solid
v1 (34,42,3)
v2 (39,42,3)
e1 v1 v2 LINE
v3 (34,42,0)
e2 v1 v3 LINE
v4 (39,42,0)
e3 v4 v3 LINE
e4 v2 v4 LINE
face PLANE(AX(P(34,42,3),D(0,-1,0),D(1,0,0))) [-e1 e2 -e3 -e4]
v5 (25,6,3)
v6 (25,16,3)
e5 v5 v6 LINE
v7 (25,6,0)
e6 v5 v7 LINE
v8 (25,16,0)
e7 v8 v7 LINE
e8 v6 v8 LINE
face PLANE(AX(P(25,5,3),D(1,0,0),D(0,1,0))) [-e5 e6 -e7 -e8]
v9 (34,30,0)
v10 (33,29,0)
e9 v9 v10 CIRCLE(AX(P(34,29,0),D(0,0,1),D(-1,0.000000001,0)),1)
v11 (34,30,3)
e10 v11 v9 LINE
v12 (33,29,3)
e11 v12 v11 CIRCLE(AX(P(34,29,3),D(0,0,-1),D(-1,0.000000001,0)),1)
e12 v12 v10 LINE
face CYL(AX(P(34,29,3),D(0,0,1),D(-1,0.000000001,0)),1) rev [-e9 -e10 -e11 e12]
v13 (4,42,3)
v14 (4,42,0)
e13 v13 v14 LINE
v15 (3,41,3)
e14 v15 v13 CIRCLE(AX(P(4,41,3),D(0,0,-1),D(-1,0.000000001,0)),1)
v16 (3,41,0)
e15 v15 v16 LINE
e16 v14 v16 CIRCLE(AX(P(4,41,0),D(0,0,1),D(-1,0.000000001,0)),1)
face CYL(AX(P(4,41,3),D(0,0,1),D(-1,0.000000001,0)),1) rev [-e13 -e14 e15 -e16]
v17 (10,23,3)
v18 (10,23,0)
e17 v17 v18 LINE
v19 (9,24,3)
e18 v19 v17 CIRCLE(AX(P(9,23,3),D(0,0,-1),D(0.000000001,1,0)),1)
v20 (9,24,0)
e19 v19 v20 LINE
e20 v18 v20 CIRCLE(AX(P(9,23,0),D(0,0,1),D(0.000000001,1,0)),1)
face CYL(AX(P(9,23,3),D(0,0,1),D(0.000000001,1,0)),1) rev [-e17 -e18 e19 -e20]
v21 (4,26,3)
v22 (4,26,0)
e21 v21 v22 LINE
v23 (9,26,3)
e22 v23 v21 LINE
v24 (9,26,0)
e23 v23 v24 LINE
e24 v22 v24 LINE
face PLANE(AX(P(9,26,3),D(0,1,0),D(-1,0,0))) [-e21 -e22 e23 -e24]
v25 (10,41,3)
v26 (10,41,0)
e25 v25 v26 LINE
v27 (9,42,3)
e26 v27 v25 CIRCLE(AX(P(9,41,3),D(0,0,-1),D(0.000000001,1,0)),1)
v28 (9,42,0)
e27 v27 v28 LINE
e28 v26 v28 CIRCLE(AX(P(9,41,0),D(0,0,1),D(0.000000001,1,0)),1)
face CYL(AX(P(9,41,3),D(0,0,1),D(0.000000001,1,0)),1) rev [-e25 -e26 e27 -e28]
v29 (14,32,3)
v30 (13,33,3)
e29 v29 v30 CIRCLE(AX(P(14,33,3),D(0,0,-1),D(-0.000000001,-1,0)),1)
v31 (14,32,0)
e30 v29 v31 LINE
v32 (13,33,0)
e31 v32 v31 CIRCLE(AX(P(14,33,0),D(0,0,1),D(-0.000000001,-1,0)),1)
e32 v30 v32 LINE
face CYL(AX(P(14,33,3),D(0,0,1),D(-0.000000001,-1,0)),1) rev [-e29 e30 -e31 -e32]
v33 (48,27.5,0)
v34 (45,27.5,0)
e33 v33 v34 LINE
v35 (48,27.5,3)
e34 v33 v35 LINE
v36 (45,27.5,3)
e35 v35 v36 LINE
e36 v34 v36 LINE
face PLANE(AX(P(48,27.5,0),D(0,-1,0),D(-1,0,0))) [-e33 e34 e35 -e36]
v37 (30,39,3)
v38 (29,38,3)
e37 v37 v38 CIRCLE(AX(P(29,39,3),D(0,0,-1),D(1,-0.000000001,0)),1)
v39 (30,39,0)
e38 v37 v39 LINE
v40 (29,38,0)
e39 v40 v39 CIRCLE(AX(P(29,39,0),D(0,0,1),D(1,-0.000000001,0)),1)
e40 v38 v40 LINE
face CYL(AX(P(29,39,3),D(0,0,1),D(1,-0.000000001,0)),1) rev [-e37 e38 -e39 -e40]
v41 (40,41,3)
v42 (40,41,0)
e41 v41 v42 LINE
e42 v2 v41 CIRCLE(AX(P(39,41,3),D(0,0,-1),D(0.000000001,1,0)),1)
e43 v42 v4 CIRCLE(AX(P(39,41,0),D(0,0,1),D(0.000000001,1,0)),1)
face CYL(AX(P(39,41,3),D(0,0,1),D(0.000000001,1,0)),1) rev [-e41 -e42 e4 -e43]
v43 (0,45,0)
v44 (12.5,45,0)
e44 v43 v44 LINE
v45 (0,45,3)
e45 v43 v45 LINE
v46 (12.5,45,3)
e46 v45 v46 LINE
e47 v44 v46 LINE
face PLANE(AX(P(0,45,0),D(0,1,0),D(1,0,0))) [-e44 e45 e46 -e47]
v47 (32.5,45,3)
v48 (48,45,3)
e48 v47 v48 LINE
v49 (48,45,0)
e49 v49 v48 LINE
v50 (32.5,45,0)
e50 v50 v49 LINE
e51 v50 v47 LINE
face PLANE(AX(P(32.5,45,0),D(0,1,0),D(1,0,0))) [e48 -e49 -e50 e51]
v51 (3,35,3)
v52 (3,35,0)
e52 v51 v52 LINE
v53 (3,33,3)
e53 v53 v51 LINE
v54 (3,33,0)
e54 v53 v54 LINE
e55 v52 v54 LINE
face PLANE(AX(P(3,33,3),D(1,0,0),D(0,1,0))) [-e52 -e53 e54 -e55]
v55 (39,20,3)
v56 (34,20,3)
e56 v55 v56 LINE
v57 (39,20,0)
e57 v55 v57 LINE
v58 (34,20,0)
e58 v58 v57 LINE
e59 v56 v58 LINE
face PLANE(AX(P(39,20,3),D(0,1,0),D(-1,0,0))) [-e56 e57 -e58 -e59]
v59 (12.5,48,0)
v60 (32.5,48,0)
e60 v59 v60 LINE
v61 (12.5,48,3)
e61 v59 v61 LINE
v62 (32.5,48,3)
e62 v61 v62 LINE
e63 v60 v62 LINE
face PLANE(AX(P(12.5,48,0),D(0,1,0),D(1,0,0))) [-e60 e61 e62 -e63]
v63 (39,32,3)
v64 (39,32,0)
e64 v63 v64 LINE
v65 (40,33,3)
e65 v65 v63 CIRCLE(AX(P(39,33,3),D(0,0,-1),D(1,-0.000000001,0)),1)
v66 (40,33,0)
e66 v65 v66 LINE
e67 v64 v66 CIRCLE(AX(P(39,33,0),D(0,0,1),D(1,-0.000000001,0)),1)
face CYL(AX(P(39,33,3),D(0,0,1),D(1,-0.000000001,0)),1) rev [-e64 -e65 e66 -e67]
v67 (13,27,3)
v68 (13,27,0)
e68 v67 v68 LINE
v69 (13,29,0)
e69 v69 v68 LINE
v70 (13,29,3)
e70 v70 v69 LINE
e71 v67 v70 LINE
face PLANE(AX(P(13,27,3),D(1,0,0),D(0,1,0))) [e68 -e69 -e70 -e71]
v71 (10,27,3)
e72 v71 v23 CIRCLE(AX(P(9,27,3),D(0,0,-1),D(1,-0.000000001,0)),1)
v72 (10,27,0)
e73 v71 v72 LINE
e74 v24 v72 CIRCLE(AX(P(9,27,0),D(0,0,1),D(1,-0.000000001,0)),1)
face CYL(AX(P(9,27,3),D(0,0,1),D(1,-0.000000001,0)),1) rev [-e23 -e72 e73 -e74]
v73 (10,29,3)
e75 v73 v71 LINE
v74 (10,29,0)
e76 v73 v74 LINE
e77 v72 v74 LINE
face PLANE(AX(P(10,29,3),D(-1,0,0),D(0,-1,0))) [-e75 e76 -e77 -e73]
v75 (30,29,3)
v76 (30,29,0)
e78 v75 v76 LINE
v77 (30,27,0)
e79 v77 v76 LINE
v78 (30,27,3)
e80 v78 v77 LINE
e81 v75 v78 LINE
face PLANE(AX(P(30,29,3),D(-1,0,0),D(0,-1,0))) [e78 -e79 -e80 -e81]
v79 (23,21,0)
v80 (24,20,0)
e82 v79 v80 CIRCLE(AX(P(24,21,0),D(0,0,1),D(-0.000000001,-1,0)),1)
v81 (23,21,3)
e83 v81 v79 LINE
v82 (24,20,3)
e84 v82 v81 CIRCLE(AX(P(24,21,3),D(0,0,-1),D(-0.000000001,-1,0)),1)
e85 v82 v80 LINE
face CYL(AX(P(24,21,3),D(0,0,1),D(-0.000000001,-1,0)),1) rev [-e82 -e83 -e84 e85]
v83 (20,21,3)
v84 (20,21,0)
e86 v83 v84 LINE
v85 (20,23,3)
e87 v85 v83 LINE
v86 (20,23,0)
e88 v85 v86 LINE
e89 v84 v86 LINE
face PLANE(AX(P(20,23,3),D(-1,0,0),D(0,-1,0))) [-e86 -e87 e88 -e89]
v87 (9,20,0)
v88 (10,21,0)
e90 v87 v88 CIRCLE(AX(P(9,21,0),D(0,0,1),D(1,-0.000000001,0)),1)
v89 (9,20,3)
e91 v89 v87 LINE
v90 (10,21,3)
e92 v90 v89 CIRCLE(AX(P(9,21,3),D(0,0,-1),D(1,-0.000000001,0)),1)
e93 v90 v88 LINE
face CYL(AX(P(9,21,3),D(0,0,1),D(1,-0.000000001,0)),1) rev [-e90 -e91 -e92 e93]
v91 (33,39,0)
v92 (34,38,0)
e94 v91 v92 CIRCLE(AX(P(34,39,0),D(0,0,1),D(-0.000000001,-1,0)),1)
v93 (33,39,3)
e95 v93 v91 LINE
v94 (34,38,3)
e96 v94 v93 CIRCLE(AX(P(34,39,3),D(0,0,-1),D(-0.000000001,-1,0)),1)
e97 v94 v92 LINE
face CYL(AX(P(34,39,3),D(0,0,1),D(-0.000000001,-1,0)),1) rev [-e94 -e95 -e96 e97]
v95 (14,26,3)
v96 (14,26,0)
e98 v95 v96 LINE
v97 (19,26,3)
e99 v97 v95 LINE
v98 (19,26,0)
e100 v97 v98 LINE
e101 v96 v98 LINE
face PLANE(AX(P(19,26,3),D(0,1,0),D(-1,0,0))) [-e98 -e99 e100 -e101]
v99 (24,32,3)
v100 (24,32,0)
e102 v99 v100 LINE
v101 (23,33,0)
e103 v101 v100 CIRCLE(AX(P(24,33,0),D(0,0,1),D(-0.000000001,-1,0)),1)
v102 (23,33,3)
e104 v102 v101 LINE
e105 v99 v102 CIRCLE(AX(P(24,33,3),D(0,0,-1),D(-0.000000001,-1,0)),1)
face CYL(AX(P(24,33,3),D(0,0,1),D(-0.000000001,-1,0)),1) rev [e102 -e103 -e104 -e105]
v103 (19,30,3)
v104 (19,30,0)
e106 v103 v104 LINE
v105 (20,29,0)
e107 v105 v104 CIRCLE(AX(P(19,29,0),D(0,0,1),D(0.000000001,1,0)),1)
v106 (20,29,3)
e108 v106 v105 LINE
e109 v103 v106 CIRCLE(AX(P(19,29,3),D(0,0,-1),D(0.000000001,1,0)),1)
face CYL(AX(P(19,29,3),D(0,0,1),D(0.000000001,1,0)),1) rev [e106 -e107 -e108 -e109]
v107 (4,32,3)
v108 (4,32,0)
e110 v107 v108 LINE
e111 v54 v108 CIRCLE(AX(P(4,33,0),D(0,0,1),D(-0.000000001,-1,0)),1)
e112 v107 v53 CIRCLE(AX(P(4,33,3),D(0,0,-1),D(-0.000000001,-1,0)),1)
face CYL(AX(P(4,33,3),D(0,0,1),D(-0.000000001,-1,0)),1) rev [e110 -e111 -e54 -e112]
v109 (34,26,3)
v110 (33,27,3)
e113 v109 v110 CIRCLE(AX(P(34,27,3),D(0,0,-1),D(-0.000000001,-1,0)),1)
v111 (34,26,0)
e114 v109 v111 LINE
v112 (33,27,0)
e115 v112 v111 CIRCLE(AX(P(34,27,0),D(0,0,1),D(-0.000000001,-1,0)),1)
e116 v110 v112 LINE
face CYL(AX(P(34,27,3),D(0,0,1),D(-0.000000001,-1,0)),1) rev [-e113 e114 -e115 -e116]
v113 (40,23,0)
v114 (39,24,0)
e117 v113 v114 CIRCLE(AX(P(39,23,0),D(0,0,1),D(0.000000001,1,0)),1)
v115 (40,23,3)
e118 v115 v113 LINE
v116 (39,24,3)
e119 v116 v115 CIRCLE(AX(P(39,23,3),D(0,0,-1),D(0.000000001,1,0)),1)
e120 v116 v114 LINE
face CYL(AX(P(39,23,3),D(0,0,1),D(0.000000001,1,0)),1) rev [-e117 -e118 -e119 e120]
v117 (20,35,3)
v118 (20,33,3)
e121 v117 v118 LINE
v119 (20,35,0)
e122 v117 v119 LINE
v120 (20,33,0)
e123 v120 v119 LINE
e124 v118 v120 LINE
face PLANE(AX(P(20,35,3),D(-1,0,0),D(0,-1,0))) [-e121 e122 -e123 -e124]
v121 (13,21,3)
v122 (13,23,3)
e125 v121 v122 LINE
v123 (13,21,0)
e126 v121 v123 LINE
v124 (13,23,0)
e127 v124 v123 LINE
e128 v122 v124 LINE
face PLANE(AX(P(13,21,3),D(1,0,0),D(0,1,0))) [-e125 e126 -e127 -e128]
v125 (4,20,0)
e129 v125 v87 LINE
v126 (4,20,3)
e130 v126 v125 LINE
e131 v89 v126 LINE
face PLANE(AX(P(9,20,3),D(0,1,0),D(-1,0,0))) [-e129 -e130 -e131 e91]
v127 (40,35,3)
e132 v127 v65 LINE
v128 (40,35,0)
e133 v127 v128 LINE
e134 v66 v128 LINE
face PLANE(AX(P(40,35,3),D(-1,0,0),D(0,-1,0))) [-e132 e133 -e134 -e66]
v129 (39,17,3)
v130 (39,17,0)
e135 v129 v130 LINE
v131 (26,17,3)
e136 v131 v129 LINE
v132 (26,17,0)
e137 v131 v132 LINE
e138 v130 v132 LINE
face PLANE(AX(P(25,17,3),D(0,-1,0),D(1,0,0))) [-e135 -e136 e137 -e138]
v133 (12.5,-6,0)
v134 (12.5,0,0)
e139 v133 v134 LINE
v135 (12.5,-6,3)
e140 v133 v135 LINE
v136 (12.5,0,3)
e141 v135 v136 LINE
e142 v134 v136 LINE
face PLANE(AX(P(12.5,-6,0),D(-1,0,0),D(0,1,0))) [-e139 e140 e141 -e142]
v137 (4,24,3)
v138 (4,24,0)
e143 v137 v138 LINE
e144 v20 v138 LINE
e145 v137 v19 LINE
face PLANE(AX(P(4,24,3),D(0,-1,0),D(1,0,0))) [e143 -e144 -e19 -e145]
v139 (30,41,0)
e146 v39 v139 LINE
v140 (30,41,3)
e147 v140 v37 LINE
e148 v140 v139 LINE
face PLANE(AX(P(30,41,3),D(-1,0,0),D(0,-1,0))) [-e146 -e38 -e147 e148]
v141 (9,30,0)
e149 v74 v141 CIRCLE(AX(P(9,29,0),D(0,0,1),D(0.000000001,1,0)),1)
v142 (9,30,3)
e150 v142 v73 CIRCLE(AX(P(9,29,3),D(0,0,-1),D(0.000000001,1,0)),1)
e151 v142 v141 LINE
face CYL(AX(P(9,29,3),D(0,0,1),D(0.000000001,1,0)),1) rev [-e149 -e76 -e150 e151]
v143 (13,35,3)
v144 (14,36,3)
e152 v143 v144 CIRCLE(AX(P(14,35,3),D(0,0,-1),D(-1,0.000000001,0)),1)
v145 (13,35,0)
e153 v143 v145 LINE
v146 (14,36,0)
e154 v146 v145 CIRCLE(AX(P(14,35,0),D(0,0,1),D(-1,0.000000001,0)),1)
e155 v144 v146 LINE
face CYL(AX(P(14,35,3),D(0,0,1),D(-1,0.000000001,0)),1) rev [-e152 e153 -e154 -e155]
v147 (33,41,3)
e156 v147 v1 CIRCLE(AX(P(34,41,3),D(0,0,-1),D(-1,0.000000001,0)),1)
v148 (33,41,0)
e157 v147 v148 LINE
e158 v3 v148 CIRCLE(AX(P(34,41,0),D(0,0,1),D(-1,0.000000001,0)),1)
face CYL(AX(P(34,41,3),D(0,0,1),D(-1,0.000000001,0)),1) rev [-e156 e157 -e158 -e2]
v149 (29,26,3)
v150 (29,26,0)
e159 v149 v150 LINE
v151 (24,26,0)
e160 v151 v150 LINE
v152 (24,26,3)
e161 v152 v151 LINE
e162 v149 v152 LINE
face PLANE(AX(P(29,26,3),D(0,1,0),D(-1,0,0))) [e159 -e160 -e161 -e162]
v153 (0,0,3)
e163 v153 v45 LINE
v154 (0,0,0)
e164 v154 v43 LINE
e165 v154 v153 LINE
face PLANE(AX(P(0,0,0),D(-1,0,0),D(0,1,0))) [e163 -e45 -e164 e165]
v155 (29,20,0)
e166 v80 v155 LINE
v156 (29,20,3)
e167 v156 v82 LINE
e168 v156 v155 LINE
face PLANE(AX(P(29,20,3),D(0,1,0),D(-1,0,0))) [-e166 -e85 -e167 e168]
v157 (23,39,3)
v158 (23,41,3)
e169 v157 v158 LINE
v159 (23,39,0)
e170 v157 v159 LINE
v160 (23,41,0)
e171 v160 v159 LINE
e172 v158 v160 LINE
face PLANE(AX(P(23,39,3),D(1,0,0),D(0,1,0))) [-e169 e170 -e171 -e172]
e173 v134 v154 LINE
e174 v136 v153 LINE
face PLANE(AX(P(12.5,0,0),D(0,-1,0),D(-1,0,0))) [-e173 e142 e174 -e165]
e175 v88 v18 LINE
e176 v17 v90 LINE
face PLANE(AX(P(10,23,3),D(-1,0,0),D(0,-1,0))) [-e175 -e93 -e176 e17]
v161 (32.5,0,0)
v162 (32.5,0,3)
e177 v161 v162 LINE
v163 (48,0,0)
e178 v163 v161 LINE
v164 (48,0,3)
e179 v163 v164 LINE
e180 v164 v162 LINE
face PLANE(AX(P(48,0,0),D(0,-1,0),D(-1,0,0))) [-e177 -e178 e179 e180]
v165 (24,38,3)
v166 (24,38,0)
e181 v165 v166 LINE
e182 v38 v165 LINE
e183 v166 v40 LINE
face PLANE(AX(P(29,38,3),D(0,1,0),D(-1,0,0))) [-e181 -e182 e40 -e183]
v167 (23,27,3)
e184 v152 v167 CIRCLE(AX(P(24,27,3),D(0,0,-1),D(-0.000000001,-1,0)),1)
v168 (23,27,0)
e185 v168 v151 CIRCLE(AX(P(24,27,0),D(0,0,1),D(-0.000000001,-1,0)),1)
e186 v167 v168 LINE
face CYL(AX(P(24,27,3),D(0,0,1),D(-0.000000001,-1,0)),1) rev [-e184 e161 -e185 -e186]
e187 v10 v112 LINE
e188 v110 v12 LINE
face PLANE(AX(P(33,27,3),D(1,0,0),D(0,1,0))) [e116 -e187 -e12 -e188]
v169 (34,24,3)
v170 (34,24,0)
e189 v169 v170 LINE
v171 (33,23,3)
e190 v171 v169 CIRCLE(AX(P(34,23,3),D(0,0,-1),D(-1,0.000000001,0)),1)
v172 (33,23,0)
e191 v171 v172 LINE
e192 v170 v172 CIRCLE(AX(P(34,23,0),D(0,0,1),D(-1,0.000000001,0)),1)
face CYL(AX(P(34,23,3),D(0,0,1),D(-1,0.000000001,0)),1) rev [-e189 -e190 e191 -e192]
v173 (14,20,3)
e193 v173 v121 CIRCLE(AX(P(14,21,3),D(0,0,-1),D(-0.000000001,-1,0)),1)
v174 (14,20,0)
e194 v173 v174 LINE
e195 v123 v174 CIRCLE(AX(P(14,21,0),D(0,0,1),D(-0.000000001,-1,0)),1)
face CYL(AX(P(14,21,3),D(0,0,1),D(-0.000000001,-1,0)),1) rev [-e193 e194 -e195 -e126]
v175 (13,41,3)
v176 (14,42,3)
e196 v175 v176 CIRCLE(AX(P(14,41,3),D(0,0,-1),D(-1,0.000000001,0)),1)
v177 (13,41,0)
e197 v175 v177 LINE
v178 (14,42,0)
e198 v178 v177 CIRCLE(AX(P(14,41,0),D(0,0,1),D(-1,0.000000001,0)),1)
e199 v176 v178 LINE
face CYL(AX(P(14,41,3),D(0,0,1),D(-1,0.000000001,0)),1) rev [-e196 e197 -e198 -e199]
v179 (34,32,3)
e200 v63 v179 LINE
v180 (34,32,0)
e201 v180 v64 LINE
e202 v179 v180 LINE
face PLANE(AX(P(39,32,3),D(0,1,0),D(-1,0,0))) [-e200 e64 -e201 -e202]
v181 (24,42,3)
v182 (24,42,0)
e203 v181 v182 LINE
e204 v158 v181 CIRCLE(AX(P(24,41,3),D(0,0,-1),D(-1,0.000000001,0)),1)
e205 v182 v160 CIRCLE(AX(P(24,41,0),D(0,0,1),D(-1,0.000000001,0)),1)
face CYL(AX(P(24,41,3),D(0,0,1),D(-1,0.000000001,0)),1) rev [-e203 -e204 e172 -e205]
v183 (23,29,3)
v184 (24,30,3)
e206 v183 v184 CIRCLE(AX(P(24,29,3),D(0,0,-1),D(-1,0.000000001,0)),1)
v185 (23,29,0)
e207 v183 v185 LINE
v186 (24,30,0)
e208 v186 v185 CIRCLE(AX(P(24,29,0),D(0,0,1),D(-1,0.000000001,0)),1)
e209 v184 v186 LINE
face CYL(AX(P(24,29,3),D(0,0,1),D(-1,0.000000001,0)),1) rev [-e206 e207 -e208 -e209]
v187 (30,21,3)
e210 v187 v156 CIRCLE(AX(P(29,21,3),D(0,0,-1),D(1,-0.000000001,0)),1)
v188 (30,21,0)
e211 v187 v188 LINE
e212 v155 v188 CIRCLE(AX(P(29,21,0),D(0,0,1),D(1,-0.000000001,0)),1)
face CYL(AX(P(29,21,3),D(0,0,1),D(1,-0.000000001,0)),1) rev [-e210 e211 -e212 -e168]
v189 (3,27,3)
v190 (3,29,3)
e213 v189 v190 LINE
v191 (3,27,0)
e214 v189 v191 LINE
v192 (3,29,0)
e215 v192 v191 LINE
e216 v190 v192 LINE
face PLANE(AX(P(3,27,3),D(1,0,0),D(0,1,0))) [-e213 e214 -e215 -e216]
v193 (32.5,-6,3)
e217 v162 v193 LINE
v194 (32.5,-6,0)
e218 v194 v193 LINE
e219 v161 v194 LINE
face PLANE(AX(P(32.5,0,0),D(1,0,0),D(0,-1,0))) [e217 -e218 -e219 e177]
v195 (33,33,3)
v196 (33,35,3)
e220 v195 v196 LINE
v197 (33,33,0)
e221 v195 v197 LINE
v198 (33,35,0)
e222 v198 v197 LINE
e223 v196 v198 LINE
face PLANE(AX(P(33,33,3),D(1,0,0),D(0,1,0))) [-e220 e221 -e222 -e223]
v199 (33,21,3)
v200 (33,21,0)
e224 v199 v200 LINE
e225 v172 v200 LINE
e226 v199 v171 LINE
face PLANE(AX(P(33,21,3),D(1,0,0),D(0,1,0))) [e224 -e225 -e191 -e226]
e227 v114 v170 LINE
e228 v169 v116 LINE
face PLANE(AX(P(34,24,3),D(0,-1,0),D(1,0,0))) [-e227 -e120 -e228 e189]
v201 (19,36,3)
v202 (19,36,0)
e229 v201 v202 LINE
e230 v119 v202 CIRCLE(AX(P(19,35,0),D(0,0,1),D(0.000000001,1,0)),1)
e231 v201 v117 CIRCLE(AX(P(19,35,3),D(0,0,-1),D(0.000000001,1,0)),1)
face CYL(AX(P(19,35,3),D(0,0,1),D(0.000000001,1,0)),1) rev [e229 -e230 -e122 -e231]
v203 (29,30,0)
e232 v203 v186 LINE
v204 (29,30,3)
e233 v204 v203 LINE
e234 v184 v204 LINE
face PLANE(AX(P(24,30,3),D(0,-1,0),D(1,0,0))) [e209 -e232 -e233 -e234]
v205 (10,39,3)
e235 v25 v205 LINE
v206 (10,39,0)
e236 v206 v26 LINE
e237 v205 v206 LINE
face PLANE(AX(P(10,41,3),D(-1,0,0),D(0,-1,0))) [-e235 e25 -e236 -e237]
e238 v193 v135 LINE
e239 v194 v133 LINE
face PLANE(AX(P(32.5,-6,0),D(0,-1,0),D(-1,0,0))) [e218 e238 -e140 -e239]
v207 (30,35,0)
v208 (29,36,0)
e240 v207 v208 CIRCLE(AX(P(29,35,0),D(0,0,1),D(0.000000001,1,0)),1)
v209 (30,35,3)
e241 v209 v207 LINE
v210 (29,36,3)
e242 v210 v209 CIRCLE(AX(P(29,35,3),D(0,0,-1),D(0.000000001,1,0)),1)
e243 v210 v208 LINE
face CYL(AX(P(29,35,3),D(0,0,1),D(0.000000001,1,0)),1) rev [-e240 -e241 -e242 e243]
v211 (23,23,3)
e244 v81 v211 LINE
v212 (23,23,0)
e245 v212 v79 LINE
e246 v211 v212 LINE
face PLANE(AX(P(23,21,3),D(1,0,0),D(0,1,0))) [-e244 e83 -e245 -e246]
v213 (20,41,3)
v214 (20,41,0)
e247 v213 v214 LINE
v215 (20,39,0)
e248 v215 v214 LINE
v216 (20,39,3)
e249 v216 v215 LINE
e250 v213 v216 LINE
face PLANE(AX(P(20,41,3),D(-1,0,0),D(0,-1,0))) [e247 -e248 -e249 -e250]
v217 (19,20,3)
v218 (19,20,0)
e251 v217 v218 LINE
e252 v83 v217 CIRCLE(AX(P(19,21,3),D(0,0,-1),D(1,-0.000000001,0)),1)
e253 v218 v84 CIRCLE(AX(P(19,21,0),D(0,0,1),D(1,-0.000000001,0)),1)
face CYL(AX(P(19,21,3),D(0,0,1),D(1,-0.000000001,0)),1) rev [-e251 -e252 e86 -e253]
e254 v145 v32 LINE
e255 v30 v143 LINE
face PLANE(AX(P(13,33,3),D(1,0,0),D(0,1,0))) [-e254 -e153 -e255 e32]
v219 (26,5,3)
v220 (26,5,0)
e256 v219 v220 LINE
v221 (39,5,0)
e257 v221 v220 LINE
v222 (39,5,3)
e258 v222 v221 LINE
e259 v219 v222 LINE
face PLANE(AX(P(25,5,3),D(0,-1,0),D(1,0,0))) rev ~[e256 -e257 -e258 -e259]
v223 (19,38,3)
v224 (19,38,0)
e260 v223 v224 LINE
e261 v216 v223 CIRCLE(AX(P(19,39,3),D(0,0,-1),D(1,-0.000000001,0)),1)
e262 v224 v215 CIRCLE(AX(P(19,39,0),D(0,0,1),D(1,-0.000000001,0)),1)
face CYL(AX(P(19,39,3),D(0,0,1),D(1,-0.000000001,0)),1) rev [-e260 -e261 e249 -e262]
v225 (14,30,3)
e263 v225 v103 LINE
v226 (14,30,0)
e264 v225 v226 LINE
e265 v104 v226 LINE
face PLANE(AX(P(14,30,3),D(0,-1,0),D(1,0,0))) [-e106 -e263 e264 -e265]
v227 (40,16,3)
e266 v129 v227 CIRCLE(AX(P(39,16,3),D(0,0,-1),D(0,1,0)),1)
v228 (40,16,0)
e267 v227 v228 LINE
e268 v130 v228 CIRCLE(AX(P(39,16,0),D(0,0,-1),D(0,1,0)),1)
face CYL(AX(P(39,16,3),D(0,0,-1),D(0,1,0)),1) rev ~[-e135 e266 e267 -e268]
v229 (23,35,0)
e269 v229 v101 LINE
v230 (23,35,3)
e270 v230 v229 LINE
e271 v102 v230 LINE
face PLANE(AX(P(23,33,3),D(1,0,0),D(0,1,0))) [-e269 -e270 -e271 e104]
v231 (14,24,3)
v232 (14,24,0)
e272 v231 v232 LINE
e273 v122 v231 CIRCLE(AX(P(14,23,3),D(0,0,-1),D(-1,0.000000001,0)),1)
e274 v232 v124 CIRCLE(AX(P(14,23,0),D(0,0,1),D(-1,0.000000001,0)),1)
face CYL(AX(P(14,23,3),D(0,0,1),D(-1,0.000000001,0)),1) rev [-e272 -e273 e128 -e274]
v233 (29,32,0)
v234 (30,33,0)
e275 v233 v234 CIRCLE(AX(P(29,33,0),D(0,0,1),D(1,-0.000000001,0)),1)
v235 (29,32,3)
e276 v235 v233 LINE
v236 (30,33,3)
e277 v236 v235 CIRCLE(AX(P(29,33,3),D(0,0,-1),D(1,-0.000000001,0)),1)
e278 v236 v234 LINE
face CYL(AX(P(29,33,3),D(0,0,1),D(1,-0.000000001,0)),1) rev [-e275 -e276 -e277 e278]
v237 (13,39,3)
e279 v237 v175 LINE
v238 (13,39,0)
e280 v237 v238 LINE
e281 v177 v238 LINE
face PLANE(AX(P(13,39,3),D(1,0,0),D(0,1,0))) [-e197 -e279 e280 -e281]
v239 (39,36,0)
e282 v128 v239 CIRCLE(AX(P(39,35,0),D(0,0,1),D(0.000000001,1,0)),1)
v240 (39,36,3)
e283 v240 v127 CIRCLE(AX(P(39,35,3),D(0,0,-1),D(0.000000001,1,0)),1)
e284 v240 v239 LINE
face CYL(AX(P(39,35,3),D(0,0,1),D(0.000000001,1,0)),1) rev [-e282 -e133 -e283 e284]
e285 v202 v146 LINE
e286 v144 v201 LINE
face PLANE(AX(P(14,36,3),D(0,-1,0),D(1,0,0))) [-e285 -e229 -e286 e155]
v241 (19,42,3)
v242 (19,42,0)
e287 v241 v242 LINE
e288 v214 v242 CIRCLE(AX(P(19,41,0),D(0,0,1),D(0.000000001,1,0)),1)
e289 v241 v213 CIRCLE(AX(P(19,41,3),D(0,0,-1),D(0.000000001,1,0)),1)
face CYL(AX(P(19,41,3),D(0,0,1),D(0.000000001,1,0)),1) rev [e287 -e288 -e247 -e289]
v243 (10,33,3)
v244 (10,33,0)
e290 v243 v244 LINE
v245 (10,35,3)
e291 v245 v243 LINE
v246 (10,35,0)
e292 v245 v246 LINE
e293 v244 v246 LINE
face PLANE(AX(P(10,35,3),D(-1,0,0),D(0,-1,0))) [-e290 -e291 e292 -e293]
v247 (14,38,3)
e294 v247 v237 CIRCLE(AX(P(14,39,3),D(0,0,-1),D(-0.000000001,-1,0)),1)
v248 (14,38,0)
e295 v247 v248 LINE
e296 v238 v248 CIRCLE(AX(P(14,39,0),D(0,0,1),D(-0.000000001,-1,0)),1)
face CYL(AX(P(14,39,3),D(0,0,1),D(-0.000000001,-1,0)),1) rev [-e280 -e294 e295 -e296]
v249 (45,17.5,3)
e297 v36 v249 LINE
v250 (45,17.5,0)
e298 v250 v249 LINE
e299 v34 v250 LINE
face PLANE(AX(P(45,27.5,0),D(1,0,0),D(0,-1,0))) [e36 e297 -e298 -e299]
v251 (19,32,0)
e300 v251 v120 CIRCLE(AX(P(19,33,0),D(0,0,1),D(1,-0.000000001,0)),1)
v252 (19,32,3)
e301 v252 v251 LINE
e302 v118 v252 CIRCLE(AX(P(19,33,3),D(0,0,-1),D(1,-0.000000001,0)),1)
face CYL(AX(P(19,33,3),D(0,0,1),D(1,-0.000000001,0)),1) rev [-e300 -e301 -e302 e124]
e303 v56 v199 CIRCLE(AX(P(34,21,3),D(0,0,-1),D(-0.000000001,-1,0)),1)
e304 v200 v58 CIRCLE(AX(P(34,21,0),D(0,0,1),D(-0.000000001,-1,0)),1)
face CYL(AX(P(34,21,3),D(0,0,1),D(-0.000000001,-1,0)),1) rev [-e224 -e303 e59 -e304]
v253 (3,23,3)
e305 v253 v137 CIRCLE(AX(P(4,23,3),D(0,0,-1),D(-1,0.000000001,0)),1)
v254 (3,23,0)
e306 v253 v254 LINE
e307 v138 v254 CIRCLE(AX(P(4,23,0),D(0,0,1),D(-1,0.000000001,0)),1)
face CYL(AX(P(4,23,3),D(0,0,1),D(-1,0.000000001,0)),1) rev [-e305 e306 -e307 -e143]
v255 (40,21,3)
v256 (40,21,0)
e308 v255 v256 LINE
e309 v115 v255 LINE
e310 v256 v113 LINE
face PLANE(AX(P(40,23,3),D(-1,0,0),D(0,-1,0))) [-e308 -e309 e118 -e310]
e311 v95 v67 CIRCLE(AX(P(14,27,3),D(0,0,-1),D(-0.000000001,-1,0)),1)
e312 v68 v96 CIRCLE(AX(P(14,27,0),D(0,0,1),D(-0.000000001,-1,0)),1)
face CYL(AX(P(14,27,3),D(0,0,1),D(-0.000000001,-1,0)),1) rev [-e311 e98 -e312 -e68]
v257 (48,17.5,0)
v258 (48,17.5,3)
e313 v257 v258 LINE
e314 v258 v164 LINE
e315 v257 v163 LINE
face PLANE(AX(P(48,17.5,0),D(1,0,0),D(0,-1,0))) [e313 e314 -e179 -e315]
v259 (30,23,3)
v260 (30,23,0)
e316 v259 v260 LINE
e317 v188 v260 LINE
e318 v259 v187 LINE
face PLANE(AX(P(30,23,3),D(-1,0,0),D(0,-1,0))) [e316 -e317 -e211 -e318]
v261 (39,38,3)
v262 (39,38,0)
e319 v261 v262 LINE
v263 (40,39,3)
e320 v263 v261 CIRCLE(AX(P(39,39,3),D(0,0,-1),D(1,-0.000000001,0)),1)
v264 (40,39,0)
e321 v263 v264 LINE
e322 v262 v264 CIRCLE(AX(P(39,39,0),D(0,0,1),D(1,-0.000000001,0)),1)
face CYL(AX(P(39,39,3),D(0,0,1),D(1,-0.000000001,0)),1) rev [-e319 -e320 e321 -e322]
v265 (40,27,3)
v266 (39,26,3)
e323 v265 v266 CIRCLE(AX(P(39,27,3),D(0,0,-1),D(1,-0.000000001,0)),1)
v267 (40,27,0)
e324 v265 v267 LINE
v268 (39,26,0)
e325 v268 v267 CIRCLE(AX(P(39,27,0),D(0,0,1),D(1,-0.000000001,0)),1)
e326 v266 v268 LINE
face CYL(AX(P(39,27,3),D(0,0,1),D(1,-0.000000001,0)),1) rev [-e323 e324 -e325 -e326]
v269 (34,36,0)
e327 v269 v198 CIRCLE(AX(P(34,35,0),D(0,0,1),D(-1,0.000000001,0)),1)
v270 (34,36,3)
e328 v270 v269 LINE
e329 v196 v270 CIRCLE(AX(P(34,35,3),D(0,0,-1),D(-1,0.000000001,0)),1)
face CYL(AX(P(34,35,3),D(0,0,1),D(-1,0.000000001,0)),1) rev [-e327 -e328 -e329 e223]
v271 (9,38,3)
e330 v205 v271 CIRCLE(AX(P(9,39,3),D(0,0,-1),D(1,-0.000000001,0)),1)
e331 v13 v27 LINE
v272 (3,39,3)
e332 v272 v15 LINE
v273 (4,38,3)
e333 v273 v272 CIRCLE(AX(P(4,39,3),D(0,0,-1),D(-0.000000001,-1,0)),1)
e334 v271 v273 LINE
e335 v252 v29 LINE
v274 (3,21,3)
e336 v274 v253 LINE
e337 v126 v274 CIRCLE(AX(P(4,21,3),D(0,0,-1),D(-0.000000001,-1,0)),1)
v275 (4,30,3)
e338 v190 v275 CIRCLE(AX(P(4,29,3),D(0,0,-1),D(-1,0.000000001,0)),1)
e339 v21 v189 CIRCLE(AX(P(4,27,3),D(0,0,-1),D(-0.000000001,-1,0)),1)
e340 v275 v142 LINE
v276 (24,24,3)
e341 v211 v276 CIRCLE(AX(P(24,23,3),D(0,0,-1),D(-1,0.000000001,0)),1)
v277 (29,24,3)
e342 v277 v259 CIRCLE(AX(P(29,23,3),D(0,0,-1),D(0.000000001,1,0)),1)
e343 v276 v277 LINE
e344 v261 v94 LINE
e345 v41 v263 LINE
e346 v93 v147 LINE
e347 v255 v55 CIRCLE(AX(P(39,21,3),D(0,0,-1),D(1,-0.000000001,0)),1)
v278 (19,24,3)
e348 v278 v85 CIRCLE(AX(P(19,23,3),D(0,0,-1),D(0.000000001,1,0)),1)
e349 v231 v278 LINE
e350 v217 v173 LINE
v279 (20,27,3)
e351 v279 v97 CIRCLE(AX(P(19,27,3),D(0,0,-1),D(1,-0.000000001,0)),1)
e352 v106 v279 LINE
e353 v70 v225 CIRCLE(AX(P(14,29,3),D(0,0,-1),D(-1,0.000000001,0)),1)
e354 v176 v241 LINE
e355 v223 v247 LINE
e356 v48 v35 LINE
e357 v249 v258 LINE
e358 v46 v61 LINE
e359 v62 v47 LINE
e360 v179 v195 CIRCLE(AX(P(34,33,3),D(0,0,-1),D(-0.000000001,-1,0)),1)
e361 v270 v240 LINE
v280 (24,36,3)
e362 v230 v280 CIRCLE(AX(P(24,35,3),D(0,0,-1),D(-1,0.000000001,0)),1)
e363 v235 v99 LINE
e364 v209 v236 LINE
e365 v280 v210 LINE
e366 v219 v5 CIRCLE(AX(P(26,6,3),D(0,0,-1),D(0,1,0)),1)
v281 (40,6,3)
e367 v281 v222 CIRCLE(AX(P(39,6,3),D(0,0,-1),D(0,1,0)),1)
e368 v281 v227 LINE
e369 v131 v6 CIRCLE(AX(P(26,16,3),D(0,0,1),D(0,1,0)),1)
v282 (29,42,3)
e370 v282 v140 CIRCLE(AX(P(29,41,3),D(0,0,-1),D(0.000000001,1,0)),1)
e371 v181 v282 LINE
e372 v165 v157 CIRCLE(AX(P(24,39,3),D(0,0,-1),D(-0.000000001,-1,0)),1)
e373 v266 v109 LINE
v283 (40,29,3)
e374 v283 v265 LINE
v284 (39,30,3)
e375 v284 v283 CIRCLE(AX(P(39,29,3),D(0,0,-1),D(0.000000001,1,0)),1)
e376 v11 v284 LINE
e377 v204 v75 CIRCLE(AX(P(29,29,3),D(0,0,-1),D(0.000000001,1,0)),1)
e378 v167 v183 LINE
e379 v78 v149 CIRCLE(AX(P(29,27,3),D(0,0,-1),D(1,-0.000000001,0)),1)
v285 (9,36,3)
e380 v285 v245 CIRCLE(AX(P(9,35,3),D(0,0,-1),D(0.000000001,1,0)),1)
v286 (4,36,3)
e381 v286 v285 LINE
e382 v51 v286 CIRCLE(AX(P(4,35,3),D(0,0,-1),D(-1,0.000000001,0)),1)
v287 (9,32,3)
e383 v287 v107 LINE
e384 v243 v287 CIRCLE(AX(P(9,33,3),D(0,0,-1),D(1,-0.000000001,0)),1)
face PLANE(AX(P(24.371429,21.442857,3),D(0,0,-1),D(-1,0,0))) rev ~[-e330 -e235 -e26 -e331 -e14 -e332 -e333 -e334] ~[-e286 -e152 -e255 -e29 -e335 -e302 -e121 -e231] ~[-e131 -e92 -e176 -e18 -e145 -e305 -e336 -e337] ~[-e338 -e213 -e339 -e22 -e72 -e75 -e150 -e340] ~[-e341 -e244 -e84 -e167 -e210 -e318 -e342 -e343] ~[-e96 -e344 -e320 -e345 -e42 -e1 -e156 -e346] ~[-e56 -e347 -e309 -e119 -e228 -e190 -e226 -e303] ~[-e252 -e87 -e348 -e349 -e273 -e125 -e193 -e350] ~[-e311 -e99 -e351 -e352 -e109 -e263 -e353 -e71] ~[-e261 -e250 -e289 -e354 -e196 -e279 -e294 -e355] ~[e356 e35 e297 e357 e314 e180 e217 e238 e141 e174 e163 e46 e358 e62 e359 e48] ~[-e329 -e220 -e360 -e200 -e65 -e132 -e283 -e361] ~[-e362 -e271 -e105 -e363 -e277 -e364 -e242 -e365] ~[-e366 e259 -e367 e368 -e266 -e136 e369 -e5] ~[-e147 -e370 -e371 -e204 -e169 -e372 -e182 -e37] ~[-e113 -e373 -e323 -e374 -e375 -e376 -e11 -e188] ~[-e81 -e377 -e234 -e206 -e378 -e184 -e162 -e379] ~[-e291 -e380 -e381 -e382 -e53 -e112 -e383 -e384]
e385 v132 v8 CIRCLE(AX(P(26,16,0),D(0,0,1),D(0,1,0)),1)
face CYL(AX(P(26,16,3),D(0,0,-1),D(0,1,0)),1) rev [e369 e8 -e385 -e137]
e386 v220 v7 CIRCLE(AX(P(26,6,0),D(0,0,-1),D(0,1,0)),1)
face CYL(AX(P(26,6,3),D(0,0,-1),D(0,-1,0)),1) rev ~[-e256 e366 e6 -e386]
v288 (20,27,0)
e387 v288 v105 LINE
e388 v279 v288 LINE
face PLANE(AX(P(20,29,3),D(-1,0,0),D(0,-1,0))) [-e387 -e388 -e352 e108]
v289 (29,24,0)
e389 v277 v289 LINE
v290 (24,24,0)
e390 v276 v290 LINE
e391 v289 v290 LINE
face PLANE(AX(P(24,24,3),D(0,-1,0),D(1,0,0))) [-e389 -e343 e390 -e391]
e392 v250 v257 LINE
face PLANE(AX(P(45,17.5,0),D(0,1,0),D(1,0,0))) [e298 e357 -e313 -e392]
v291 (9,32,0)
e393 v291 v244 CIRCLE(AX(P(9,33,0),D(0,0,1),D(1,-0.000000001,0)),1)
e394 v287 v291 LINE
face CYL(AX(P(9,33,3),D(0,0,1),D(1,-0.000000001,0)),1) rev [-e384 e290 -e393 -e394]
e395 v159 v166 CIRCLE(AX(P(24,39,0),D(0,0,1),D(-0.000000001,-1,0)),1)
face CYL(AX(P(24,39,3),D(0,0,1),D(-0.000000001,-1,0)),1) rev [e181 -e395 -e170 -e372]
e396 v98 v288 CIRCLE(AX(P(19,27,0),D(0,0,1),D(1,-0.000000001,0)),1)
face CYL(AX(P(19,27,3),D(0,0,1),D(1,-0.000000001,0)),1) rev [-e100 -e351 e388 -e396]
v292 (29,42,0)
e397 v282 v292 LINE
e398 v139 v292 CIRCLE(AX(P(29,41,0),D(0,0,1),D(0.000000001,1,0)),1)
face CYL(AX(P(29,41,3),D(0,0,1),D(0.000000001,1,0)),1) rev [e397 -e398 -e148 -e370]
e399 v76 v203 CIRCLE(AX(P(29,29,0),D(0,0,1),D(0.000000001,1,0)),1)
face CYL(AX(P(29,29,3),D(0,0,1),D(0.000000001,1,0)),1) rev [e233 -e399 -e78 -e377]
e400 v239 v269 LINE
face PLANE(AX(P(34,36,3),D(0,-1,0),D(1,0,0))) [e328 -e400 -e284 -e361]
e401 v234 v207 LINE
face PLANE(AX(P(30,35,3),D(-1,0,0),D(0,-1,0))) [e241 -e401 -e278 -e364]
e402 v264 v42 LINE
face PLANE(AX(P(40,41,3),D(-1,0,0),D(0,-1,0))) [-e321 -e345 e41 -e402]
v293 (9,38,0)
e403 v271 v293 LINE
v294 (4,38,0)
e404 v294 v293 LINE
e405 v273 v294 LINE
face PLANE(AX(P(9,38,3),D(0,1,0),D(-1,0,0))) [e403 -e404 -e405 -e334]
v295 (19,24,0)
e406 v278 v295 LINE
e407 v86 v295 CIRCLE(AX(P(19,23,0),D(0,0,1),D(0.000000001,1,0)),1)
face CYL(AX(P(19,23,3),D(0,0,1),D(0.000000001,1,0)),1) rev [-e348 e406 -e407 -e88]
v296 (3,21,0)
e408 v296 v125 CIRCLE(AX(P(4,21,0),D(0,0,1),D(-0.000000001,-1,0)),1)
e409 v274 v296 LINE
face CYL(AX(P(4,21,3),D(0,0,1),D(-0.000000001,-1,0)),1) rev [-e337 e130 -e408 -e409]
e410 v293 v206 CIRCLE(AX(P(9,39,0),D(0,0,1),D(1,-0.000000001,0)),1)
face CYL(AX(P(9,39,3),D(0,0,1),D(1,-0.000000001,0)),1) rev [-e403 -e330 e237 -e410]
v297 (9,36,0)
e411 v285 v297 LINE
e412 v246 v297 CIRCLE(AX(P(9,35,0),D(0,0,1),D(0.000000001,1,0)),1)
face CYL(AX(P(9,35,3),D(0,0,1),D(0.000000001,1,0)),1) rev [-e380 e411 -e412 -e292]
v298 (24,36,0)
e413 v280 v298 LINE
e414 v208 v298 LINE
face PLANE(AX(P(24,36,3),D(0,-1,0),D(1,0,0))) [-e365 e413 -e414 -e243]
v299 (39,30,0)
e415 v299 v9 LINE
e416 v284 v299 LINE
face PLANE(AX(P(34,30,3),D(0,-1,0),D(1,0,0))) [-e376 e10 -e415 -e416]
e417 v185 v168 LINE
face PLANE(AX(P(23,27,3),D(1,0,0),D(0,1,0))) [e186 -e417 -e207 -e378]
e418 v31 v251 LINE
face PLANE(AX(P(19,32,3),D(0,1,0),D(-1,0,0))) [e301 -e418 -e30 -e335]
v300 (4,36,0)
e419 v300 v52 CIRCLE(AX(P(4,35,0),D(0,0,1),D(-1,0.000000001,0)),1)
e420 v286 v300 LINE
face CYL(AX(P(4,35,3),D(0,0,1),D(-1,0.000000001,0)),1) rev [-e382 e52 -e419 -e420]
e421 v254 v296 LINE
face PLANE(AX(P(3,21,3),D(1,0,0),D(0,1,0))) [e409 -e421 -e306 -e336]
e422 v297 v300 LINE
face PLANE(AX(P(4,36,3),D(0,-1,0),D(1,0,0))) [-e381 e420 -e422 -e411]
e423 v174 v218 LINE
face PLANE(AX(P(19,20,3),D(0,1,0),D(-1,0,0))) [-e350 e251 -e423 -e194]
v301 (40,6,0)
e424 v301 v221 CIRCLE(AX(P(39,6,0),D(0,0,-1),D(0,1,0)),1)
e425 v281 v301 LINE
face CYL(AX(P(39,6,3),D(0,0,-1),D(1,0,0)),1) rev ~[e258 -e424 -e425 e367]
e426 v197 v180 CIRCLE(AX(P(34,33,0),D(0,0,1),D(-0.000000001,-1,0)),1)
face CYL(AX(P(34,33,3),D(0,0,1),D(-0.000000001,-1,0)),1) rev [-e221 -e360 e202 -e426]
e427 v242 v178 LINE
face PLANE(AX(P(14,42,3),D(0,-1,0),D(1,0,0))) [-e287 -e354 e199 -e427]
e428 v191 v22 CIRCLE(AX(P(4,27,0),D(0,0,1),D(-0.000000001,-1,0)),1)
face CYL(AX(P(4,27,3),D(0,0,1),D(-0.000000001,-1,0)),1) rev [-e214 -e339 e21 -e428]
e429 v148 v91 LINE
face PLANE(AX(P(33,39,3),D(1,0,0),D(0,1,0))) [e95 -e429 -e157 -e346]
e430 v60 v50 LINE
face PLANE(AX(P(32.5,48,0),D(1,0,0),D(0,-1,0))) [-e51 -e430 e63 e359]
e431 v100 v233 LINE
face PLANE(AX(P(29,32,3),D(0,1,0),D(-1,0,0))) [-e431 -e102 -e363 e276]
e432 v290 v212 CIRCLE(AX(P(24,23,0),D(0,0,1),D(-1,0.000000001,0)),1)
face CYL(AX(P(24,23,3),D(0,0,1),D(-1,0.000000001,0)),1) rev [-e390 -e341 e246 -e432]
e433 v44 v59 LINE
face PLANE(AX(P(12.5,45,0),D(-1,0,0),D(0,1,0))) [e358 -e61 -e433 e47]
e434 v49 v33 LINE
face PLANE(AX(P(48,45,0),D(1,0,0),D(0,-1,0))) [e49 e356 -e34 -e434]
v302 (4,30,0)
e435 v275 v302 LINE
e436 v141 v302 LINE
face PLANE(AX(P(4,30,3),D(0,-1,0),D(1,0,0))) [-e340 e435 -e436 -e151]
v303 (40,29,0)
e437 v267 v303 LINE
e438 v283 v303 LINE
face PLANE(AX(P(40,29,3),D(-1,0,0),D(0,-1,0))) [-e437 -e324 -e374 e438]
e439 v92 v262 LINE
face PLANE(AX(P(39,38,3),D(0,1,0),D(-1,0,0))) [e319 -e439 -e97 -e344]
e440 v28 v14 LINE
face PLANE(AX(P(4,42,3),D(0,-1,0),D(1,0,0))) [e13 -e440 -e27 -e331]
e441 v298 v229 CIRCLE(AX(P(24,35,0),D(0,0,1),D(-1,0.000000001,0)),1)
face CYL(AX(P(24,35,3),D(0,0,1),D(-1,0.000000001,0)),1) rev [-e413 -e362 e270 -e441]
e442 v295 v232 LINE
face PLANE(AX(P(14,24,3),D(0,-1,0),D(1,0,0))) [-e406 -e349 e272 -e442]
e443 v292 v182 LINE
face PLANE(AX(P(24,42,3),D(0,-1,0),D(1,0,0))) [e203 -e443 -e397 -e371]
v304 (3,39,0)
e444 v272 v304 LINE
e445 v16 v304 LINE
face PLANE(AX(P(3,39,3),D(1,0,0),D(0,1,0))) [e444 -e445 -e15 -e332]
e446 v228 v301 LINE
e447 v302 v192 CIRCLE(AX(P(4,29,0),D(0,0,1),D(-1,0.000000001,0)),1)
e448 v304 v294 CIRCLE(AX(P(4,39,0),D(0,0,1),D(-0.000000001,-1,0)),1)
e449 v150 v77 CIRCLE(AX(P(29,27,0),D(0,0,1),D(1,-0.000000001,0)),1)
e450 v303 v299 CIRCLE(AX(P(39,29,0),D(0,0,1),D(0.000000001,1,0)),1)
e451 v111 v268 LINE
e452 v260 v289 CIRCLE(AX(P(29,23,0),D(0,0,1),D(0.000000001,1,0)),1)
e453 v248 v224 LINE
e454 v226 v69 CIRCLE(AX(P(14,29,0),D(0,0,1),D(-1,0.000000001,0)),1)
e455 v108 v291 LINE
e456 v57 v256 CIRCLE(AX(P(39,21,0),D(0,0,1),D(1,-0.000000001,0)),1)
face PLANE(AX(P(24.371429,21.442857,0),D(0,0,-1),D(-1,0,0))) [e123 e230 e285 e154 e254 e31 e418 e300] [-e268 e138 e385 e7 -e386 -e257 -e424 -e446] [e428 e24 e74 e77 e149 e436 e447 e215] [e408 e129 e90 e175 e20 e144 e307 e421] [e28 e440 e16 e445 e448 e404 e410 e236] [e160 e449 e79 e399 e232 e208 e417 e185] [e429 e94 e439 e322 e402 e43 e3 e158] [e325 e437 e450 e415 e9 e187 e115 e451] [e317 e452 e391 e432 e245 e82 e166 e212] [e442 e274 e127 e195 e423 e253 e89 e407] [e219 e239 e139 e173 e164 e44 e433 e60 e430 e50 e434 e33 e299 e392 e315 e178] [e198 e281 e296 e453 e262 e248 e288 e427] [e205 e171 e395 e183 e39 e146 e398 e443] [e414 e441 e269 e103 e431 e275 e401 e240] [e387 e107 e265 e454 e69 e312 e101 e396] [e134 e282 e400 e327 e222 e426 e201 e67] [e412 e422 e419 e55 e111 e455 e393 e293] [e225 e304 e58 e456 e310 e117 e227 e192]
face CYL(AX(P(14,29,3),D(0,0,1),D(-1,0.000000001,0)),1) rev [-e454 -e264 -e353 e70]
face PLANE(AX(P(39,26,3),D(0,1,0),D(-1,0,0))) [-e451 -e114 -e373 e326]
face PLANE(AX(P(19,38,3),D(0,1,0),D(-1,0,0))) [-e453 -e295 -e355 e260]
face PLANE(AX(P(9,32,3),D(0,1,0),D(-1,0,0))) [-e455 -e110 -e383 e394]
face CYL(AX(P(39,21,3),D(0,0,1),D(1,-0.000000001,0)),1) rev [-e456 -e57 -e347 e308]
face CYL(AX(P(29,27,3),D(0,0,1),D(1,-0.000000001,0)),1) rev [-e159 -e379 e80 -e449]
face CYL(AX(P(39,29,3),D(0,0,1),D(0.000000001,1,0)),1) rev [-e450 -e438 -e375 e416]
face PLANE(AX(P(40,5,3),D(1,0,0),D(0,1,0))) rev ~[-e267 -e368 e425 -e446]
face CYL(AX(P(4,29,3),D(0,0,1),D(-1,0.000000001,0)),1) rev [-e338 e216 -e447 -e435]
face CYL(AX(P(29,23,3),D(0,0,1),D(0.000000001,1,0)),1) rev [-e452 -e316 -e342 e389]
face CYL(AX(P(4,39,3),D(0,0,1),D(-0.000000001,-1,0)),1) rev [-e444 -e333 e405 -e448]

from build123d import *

# Parameters (mm, degrees)
BOSS_EXTRUDE1_DEPTH  = 3
SKETCH2_W            = 15
SKETCH2_H            = 12
CUT_EXTRUDE1_DEPTH   = 68.948509917
FILLET1_R            = 1
CUT_EXTRUDE2_DEPTH   = 68.948509917
LPATTERN1_COUNT      = 4
LPATTERN1_PITCH      = 10
LPATTERN1_COUNT_DIR2 = 4
LPATTERN1_PITCH_DIR2 = 6


with BuildPart() as part:
    # Sketch1 → Boss-Extrude1 (new body)
    with BuildSketch(Plane.XY):
        Polygon((0, 0), (0, 45), (12.5, 45), (12.5, 48), (32.5, 48), (32.5, 45), (48, 45), (48, 27.5), (45, 27.5), (45, 17.5), (48, 17.5), (48, 0), (32.5, 0), (32.5, -6), (12.5, -6), (12.5, 0), align=None)
    extrude(amount=BOSS_EXTRUDE1_DEPTH)

    # Sketch2 → Cut-Extrude1 (cut, through all)
    with BuildSketch(Plane.XY.offset(3)):
        with Locations((32.5, 11)):
            Rectangle(SKETCH2_W, SKETCH2_H)
    extrude(amount=-CUT_EXTRUDE1_DEPTH, mode=Mode.SUBTRACT)

    # Fillet1
    fillet1_edges = [part.edges().sort_by_distance(p)[0] for p in [
        (25, 5, 1.5),
        (25, 17, 1.5),
        (40, 17, 1.5),
        (40, 5, 1.5),
    ]]
    fillet(fillet1_edges, radius=FILLET1_R)

    # Sketch3 → Cut-Extrude2 (cut, through all)
    with BuildSketch(Plane.XY.offset(3)):
        with BuildLine():
            Line((4, 42), (9, 42))
            ThreePointArc((9, 42), (9.707106781, 41.707106781), (10, 41))
            Line((10, 41), (10, 39))
            ThreePointArc((10, 39), (9.707106781, 38.292893219), (9, 38))
            Line((9, 38), (4, 38))
            ThreePointArc((4, 38), (3.292893219, 38.292893219), (3, 39))
            Line((3, 39), (3, 41))
            ThreePointArc((3, 41), (3.292893219, 41.707106781), (4, 42))
        make_face()
    cut_extrude2 = extrude(amount=-CUT_EXTRUDE2_DEPTH, mode=Mode.SUBTRACT)

    # LPattern1: Cut-Extrude2 4 × 4
    with Locations(*[(i * LPATTERN1_PITCH, -j * LPATTERN1_PITCH_DIR2, 0) for i in range(LPATTERN1_COUNT) for j in range(LPATTERN1_COUNT_DIR2) if (i, j) != (0, 0)]):
        add(cut_extrude2, mode=Mode.SUBTRACT)


solid = part.part
